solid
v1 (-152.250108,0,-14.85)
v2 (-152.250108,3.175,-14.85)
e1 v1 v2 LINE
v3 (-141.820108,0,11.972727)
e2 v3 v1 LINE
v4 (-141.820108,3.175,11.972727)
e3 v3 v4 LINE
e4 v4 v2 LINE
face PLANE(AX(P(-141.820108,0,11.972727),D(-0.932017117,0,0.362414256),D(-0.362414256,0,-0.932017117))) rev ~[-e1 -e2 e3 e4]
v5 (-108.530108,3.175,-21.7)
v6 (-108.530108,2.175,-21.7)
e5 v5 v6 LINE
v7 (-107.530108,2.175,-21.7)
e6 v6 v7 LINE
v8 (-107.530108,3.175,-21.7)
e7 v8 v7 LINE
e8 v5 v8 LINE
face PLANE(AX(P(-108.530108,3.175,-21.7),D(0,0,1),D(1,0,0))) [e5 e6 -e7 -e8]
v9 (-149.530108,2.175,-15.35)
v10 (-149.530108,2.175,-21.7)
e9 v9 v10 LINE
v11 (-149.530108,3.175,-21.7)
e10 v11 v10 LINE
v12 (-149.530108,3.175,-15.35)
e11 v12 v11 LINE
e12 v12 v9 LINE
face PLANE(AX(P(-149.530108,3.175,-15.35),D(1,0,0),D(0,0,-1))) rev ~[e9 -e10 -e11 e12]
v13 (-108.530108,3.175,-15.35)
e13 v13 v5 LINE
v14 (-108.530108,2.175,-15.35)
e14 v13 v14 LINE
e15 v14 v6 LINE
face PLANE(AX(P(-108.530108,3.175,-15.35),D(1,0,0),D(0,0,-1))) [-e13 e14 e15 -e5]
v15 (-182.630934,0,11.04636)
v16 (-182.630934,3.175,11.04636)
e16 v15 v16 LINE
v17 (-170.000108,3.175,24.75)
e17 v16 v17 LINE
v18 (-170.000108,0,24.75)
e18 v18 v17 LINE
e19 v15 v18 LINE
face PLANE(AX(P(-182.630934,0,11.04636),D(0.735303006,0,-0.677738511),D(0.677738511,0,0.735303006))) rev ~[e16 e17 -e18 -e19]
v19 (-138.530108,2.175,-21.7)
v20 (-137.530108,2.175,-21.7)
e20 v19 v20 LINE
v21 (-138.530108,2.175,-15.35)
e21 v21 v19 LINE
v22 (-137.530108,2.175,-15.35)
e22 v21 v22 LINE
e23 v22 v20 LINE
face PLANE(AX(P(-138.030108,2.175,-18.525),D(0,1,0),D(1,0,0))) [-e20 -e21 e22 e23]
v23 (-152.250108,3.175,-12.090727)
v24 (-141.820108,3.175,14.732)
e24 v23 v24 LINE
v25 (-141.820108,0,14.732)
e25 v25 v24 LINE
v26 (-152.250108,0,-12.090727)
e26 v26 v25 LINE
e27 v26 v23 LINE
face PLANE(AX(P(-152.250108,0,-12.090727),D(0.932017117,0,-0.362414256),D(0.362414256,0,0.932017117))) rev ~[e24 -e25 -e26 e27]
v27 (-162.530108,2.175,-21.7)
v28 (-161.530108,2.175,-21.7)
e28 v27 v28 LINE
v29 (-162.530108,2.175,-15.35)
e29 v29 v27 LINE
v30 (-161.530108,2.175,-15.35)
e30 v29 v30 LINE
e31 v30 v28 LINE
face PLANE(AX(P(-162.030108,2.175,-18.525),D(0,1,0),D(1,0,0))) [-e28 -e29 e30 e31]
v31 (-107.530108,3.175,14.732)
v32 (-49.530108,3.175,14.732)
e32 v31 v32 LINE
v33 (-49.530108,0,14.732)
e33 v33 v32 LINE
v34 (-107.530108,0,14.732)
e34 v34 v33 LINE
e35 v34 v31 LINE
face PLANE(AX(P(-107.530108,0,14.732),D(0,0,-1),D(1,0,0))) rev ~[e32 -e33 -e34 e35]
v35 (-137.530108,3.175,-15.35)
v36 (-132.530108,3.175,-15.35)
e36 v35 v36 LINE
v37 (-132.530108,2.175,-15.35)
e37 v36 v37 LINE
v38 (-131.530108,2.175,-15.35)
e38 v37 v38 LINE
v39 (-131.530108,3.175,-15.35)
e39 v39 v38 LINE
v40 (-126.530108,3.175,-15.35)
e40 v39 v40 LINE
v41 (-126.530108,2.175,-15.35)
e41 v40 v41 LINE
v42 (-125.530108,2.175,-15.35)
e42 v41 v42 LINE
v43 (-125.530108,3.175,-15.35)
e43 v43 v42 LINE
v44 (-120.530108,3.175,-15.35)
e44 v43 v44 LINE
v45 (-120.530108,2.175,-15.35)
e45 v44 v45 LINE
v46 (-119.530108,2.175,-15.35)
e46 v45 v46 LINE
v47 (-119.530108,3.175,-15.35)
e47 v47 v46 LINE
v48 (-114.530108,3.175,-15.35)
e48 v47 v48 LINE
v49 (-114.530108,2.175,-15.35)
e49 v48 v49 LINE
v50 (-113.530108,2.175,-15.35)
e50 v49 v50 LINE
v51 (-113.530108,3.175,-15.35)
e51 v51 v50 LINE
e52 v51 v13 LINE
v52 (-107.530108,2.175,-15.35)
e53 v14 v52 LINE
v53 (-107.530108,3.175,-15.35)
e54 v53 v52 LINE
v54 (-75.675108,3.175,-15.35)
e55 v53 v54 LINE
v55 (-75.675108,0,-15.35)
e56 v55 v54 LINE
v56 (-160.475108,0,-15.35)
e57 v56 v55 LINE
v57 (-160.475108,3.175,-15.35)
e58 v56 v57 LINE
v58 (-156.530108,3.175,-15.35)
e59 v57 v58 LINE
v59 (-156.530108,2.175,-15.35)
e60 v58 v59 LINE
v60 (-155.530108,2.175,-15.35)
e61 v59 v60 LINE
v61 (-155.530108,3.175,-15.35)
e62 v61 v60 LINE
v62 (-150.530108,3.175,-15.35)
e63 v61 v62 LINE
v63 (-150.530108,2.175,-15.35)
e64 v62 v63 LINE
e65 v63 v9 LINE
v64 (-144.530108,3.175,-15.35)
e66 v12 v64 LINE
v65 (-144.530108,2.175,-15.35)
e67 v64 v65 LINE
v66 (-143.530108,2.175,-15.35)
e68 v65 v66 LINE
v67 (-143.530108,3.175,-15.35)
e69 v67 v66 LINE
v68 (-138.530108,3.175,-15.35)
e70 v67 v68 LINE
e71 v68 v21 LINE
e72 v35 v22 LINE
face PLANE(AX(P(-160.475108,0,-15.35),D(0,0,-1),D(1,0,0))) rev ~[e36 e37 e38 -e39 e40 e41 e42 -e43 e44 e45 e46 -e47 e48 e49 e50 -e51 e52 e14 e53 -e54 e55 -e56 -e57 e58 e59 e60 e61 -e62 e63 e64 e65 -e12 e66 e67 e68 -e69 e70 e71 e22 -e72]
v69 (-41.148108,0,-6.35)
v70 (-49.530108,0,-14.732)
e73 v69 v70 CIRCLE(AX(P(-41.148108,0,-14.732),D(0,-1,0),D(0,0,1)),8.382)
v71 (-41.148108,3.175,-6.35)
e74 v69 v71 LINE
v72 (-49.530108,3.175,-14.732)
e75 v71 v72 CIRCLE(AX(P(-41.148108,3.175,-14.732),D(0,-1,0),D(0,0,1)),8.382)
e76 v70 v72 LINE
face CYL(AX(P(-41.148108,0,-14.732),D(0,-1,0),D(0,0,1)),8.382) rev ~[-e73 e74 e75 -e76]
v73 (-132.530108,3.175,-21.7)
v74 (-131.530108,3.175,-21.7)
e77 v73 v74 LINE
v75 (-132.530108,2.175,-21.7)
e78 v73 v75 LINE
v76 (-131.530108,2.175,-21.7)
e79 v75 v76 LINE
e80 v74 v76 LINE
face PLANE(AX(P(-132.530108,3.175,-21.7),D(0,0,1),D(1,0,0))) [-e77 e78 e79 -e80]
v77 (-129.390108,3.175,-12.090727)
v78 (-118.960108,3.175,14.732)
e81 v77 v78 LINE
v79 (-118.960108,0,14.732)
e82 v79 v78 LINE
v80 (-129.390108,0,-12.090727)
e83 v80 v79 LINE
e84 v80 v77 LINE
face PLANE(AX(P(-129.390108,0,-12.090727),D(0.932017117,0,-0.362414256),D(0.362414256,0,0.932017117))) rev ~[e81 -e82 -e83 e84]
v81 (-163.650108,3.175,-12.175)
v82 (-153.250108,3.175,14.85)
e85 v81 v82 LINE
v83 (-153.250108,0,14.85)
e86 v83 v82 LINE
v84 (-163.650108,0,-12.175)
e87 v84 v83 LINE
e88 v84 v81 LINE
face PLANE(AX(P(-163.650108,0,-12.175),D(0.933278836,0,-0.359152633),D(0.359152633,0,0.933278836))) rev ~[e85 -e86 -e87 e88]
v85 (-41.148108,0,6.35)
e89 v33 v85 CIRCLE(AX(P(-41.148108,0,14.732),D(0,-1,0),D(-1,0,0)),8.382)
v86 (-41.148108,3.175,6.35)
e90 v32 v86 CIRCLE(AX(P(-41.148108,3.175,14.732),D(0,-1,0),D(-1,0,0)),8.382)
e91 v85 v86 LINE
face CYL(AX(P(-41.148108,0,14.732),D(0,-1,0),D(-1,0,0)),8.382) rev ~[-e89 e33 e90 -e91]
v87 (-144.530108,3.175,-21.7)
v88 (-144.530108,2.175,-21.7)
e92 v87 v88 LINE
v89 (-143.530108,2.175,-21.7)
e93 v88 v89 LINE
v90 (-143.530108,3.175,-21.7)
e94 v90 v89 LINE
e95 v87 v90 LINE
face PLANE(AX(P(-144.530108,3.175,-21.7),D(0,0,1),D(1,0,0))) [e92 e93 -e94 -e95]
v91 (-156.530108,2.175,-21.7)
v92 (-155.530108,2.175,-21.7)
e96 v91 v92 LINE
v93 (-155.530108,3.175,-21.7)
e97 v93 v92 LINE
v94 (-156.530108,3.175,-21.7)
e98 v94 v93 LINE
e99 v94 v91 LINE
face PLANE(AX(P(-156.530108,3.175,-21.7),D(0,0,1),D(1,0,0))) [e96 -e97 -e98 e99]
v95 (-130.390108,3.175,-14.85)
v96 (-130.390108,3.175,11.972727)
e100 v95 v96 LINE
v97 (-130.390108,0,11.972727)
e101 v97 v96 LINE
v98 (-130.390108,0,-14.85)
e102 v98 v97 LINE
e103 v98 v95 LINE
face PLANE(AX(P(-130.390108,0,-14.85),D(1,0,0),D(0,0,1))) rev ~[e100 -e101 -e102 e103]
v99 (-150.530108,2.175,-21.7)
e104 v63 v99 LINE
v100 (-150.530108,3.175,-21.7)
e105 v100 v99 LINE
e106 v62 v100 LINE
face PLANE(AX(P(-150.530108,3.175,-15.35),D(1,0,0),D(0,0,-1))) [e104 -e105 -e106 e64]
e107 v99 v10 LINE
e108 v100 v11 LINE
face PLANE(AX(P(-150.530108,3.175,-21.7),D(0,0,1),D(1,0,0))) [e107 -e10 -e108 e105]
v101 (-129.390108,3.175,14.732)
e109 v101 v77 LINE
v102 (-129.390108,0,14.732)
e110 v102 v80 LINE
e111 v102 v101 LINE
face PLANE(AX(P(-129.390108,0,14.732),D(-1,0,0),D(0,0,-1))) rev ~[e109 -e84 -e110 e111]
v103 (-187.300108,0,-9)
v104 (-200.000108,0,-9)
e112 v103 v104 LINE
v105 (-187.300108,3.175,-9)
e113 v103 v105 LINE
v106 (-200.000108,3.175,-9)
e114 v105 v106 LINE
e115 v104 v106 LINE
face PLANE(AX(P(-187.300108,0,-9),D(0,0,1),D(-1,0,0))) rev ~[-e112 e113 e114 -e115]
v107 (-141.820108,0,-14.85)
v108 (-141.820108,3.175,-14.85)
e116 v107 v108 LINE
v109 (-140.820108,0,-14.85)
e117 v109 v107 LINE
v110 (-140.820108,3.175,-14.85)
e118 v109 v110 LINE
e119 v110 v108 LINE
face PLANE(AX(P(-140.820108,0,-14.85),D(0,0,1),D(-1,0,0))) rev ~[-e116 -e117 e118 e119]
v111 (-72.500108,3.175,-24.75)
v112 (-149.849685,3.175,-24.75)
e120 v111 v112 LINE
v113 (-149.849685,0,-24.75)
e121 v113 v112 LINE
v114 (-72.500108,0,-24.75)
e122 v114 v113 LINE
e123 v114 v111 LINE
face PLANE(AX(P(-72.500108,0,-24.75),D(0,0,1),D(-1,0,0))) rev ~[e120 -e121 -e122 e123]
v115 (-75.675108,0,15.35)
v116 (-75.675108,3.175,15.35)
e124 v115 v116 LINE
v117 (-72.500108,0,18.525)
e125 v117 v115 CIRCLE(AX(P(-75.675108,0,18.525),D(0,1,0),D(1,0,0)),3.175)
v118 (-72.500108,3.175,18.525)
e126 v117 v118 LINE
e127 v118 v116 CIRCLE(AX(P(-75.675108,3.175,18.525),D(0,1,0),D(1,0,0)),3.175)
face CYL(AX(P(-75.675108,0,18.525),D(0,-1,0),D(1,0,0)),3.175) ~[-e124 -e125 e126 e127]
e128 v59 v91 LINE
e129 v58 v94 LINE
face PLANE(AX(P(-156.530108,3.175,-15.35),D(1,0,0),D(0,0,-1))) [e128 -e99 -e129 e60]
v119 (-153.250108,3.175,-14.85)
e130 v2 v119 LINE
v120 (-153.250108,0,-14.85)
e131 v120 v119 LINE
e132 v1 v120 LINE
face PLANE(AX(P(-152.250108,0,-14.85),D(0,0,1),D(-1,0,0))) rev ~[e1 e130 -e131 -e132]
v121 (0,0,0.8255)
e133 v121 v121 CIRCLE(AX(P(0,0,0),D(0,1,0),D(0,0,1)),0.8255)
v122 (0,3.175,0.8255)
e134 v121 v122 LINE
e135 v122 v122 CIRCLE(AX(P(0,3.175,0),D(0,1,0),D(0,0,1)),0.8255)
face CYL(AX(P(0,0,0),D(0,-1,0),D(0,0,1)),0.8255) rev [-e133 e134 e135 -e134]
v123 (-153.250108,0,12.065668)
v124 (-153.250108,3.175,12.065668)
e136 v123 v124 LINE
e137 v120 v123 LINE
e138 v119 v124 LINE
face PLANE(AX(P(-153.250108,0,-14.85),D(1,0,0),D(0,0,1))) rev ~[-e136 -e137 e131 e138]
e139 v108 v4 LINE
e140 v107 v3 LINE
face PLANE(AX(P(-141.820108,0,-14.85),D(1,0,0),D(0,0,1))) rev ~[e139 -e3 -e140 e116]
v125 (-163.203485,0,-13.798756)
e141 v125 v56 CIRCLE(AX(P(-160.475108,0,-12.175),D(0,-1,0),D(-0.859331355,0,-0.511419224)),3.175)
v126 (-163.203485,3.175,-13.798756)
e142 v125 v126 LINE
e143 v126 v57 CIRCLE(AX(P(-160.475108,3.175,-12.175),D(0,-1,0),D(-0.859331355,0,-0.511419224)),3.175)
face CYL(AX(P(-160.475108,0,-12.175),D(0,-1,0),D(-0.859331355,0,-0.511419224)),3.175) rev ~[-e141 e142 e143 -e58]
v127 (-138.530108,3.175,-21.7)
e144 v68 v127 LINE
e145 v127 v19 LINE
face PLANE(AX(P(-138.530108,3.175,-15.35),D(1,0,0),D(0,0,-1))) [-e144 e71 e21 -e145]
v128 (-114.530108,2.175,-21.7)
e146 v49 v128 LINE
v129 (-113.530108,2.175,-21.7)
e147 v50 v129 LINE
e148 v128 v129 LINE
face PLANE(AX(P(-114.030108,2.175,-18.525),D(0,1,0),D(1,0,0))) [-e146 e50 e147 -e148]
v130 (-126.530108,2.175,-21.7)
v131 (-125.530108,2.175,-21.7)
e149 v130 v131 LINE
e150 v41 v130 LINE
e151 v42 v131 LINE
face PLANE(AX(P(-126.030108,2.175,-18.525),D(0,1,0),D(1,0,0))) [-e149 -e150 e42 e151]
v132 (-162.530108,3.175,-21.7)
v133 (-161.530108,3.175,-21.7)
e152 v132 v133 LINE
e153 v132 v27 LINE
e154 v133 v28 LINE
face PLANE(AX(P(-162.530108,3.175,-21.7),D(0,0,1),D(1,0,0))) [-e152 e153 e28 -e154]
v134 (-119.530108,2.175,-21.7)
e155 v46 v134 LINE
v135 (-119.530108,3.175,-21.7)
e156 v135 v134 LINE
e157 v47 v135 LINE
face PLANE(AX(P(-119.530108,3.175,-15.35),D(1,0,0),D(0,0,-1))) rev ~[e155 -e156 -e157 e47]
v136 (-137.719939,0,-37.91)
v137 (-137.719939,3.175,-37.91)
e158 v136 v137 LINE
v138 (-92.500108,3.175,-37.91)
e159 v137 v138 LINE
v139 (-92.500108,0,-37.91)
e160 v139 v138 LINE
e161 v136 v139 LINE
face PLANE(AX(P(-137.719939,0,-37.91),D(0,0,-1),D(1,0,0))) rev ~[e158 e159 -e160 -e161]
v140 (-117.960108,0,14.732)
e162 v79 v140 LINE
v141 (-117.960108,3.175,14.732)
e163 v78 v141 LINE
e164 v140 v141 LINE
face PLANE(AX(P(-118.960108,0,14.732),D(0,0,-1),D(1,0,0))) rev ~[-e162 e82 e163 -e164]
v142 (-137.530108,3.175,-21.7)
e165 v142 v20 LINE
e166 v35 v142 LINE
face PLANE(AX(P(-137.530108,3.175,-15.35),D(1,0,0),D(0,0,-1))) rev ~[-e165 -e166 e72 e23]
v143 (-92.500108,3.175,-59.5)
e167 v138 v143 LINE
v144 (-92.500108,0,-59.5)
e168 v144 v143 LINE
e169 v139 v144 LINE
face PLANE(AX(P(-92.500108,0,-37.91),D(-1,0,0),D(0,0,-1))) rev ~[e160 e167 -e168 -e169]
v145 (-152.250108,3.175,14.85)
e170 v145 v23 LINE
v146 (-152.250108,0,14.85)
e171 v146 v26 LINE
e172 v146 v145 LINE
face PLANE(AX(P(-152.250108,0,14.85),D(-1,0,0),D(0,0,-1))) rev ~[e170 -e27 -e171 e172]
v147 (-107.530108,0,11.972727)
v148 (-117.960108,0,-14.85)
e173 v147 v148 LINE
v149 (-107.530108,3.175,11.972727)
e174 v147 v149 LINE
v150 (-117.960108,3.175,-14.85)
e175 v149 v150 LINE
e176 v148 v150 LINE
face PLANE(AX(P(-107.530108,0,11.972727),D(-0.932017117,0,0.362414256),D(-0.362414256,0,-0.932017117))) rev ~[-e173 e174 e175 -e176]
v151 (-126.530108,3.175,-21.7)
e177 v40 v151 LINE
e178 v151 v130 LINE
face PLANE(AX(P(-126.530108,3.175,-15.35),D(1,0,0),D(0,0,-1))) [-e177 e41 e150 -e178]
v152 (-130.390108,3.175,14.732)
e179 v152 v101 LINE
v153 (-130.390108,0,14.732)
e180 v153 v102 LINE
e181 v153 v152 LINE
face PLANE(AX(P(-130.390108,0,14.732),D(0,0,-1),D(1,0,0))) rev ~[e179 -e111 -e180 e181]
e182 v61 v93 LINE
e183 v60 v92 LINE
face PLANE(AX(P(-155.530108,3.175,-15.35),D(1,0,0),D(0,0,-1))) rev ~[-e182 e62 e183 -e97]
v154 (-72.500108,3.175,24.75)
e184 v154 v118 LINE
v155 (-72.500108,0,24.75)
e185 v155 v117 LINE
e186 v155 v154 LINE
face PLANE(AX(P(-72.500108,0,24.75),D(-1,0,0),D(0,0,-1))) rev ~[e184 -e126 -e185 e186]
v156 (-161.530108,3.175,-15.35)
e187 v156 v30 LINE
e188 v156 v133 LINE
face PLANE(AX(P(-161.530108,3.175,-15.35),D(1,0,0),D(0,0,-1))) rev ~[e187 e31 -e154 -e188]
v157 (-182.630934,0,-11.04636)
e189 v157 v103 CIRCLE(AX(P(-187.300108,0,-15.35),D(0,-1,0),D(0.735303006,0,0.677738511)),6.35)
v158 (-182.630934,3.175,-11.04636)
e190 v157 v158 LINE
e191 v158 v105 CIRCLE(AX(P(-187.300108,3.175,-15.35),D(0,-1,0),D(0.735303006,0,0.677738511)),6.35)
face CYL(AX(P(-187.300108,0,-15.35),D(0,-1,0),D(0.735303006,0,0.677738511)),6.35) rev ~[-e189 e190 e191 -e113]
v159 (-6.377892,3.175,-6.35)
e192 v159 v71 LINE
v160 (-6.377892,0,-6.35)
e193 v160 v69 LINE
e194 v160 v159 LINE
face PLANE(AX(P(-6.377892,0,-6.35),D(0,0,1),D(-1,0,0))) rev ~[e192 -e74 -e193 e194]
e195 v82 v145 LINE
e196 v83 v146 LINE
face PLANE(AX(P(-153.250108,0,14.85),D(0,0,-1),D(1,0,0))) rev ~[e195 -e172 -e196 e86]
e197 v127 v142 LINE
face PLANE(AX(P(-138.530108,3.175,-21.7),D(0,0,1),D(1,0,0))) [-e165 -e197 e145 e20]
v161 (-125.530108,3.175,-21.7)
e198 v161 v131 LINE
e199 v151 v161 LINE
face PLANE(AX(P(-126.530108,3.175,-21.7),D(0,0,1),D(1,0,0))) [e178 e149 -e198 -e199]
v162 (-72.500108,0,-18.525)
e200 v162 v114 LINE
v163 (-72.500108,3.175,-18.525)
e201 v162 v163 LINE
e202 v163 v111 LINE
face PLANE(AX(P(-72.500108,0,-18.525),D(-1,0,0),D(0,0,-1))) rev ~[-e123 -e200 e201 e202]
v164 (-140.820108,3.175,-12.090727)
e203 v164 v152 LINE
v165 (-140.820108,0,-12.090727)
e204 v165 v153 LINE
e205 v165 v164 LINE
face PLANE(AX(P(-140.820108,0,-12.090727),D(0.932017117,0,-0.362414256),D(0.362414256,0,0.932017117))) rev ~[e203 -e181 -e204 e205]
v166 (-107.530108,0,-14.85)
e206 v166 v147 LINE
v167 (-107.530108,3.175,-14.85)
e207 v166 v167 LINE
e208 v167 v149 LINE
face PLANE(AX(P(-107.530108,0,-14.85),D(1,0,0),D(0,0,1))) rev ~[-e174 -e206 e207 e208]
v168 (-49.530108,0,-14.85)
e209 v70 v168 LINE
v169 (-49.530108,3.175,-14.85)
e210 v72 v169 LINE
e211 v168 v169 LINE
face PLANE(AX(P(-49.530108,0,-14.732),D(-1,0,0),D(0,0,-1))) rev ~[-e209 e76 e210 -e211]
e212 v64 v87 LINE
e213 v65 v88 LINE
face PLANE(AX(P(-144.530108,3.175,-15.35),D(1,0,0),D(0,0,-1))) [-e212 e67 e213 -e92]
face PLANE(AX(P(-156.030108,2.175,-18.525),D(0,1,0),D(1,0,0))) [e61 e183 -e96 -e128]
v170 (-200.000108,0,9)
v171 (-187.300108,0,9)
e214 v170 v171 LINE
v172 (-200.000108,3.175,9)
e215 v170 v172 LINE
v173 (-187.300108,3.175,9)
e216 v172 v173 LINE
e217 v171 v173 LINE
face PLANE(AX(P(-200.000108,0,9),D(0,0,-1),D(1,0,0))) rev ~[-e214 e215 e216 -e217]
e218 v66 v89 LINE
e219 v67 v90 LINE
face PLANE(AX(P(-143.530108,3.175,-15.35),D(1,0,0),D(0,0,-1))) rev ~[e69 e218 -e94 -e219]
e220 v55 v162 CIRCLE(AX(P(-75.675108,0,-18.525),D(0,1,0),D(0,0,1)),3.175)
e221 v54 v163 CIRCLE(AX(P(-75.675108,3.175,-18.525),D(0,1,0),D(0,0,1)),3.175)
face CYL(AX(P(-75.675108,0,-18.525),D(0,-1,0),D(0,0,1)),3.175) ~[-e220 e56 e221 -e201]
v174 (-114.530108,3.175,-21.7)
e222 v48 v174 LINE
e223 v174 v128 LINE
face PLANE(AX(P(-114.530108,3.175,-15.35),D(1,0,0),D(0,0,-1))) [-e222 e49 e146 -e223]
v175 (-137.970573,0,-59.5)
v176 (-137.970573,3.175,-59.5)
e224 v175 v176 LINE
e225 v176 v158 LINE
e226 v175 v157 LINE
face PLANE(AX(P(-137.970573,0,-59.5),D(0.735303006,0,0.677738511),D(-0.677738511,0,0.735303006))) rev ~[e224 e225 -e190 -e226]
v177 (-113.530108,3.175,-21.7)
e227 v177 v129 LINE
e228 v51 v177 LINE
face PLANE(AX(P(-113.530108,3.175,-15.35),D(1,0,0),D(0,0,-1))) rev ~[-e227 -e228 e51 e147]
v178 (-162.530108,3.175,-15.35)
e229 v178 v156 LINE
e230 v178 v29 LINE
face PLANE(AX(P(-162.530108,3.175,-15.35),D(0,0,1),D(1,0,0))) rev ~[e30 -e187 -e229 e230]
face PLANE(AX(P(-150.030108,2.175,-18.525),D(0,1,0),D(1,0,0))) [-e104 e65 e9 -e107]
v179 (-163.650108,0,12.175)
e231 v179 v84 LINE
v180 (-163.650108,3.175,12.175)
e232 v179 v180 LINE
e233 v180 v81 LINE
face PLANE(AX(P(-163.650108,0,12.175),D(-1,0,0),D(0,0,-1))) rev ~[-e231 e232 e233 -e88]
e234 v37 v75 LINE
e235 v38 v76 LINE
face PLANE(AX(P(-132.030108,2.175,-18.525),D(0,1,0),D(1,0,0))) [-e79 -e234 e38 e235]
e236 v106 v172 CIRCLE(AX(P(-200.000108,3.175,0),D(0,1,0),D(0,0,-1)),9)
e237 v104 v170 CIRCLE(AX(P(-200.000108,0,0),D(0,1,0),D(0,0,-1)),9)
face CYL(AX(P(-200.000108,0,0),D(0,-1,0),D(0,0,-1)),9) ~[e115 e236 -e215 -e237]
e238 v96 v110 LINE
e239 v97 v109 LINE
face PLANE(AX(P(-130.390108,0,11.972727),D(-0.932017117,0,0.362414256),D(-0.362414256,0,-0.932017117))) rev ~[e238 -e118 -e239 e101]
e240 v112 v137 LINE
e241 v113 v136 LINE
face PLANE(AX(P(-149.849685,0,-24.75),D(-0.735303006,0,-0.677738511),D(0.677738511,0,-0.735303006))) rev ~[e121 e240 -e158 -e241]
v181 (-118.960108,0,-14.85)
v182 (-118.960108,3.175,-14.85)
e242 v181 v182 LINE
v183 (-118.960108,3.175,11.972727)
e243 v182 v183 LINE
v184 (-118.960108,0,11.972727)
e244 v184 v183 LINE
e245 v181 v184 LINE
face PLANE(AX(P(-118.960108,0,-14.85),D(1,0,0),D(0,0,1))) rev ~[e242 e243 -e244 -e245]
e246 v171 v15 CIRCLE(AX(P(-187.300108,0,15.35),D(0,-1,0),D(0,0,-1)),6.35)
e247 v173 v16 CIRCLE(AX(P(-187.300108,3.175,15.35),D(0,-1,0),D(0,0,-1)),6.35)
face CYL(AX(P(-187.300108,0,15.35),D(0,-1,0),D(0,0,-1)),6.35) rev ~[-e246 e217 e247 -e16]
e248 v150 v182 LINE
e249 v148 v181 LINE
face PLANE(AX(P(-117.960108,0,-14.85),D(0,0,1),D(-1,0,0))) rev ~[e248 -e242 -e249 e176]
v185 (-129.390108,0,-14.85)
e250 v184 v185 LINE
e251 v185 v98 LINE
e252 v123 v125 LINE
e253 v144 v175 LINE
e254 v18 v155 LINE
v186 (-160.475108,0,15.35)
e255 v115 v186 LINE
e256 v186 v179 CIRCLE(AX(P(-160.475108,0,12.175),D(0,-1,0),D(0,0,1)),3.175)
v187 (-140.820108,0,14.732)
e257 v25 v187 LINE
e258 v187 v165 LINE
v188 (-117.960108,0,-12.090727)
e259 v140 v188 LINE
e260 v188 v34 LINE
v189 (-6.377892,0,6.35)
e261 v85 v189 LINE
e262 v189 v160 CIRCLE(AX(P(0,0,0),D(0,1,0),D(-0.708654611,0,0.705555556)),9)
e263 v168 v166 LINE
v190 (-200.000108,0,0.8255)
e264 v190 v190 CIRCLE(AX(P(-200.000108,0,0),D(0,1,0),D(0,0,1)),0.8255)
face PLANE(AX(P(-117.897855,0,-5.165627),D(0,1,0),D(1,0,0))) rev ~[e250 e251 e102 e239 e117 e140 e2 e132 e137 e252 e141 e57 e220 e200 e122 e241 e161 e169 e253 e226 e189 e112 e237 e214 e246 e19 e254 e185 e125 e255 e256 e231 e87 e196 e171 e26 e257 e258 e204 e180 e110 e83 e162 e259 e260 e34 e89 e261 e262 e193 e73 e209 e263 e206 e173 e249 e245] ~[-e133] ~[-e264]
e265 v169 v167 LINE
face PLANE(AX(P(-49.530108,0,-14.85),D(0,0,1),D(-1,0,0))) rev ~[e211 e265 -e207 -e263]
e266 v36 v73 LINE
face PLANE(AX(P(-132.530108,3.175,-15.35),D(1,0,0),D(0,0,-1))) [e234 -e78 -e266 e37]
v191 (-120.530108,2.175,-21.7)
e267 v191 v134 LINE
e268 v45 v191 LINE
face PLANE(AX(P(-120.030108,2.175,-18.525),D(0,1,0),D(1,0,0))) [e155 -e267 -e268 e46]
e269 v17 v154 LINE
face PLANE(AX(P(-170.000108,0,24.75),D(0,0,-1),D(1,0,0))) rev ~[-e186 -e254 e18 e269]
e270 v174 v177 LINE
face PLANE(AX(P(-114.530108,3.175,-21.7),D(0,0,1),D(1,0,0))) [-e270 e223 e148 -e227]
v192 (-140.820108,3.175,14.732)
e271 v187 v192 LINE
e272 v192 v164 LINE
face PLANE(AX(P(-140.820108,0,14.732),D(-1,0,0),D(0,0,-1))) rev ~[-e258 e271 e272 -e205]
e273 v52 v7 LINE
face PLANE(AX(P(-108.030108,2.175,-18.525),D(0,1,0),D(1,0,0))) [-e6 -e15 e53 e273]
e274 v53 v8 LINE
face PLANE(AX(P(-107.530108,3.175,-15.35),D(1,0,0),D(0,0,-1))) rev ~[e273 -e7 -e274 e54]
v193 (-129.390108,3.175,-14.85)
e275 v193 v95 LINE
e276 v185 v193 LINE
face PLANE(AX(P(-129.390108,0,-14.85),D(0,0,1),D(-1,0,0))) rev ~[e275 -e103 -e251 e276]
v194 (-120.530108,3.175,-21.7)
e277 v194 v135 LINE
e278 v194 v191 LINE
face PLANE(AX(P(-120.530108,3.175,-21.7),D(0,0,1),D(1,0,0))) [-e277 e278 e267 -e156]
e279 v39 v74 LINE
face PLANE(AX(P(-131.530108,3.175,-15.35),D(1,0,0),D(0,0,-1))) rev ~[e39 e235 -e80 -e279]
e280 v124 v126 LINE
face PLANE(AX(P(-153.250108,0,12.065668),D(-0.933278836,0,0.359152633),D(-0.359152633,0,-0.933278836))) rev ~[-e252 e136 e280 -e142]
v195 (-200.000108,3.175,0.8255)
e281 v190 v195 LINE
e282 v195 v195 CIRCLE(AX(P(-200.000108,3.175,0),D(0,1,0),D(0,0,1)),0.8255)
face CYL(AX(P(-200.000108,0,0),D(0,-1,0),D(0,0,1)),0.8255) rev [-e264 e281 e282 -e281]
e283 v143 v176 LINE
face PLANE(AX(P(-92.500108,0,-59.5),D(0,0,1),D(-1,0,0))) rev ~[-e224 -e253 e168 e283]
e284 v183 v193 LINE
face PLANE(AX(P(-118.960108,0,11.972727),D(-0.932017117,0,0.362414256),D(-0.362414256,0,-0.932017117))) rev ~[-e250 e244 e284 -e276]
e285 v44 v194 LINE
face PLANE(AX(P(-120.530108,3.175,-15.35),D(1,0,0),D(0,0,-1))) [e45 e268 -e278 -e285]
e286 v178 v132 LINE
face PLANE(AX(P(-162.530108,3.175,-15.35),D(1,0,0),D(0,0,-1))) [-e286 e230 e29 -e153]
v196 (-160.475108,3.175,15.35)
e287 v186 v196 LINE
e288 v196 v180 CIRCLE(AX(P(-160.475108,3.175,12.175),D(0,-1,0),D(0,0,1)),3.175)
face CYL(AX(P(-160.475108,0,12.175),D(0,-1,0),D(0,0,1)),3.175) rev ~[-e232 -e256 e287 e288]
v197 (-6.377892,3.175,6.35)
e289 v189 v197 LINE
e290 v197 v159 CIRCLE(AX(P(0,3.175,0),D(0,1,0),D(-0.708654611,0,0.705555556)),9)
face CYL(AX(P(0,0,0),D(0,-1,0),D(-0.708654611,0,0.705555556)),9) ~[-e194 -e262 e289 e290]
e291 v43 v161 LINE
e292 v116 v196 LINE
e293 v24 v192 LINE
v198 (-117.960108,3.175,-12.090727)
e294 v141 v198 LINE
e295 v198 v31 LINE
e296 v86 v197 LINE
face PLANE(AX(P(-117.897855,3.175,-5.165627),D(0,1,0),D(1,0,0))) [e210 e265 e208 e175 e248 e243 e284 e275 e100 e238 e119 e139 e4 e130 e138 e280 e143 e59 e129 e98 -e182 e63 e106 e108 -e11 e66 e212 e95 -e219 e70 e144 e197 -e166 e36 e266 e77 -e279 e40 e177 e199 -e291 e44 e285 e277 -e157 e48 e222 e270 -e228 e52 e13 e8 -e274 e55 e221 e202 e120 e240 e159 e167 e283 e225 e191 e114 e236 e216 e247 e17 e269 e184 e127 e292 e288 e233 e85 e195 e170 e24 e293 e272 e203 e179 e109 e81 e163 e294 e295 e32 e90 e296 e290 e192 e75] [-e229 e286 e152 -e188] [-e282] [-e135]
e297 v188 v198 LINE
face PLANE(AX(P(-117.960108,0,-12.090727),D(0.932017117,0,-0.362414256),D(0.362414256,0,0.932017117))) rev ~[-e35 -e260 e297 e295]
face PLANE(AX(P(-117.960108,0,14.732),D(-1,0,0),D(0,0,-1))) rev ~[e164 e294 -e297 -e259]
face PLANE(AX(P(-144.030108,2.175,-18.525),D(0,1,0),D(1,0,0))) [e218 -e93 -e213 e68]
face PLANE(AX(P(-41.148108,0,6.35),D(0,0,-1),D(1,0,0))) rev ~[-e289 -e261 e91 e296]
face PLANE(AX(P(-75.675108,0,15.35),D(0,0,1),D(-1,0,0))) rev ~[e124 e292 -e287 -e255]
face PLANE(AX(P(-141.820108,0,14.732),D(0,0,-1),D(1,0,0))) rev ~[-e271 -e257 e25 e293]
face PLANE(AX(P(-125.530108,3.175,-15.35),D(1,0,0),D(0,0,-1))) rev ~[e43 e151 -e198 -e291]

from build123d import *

# Parameters (mm, degrees)
SKETCH3_R           = 0.8255
BOSS_EXTRUDE1_DEPTH = 3.175
SKETCH4_W           = 1
SKETCH4_H           = 6.35
CUT_EXTRUDE1_DEPTH  = 1


with BuildPart() as part:
    # Sketch3 → Boss-Extrude1 (new body)
    with BuildSketch(Plane(origin=(0, 0, 0), x_dir=(1, 0, 0), z_dir=(0, 1, 0))):
        with BuildLine():
            Line((-187.300108, 9), (-200.000108, 9))
            ThreePointArc((-200.000108, 9), (-209.000108, 0), (-200.000108, -9))
            Line((-200.000108, -9), (-187.300108, -9))
            ThreePointArc((-187.300108, -9), (-184.751148517, -9.534047322), (-182.630933912, -11.046360455))
            Line((-182.630933912, -11.046360455), (-170.000108, -24.75))
            Line((-170.000108, -24.75), (-72.500108, -24.75))
            Line((-72.500108, -24.75), (-72.500108, -18.525))
            ThreePointArc((-72.500108, -18.525), (-73.43004397, -16.27993597), (-75.675108, -15.35))
            Line((-75.675108, -15.35), (-160.475108, -15.35))
            ThreePointArc((-160.475108, -15.35), (-162.72017203, -14.42006403), (-163.650108, -12.175))
            Line((-163.650108, -12.175), (-163.650108, 12.175))
            Line((-163.650108, 12.175), (-153.250108, -14.85))
            Line((-153.250108, -14.85), (-152.250108, -14.85))
            Line((-152.250108, -14.85), (-152.250108, 12.090726648))
            Line((-152.250108, 12.090726648), (-141.820108, -14.732))
            Line((-141.820108, -14.732), (-140.820108, -14.732))
            Line((-140.820108, -14.732), (-140.820108, 12.090726648))
            Line((-140.820108, 12.090726648), (-130.390108, -14.732))
            Line((-130.390108, -14.732), (-129.390108, -14.732))
            Line((-129.390108, -14.732), (-129.390108, 12.090726648))
            Line((-129.390108, 12.090726648), (-118.960108, -14.732))
            Line((-118.960108, -14.732), (-117.960108, -14.732))
            Line((-117.960108, -14.732), (-117.960108, 12.090726648))
            Line((-117.960108, 12.090726648), (-107.530108, -14.732))
            Line((-107.530108, -14.732), (-49.530108, -14.732))
            ThreePointArc((-49.530108, -14.732), (-47.07507704, -8.80503096), (-41.148108, -6.35))
            Line((-41.148108, -6.35), (-6.377891501, -6.35))
            ThreePointArc((-6.377891501, -6.35), (9, 0), (-6.377891501, 6.35))
            Line((-6.377891501, 6.35), (-41.148108, 6.35))
            ThreePointArc((-41.148108, 6.35), (-47.07507704, 8.80503096), (-49.530108, 14.732))
            Line((-49.530108, 14.732), (-49.530108, 14.85))
            Line((-49.530108, 14.85), (-107.530108, 14.85))
            Line((-107.530108, 14.85), (-107.530108, -11.972726648))
            Line((-107.530108, -11.972726648), (-117.960108, 14.85))
            Line((-117.960108, 14.85), (-118.960108, 14.85))
            Line((-118.960108, 14.85), (-118.960108, -11.972726648))
            Line((-118.960108, -11.972726648), (-129.390108, 14.85))
            Line((-129.390108, 14.85), (-130.390108, 14.85))
            Line((-130.390108, 14.85), (-130.390108, -11.972726648))
            Line((-130.390108, -11.972726648), (-140.820108, 14.85))
            Line((-140.820108, 14.85), (-141.820108, 14.85))
            Line((-141.820108, 14.85), (-141.820108, -11.972726648))
            Line((-141.820108, -11.972726648), (-152.250108, 14.85))
            Line((-152.250108, 14.85), (-153.250108, 14.85))
            Line((-153.250108, 14.85), (-153.250108, -12.065668468))
            Line((-153.250108, -12.065668468), (-163.203485052, 13.798756035))
            ThreePointArc((-163.203485052, 13.798756035), (-162.044375279, 14.935077029), (-160.475108, 15.35))
            Line((-160.475108, 15.35), (-75.675108, 15.35))
            ThreePointArc((-75.675108, 15.35), (-73.43004397, 16.27993597), (-72.500108, 18.525))
            Line((-72.500108, 18.525), (-72.500108, 24.75))
            Line((-72.500108, 24.75), (-149.849684915, 24.75))
            Line((-149.849684915, 24.75), (-137.719938766, 37.91))
            Line((-137.719938766, 37.91), (-92.500108, 37.91))
            Line((-92.500108, 37.91), (-92.500108, 59.5))
            Line((-92.500108, 59.5), (-137.970573146, 59.5))
            Line((-137.970573146, 59.5), (-182.630933912, 11.046360455))
            ThreePointArc((-182.630933912, 11.046360455), (-184.751148517, 9.534047322), (-187.300108, 9))
        make_face()
        with Locations(Location((0, 0, 0), (0, 0, 270))):
            Circle(SKETCH3_R, mode=Mode.SUBTRACT)
        with Locations(Location((-200.000108, 0, 0), (0, 0, 270))):
            Circle(SKETCH3_R, mode=Mode.SUBTRACT)
    extrude(amount=BOSS_EXTRUDE1_DEPTH)

    # Sketch4 → Cut-Extrude1 (cut)
    with BuildSketch(Plane(origin=(0, 3.175, 0), x_dir=(1, 0, 0), z_dir=(0, 1, 0))):
        with Locations((-108.030108, 18.525)):
            Rectangle(SKETCH4_W, SKETCH4_H)
        with Locations((-114.030108, 18.525)):
            Rectangle(SKETCH4_W, SKETCH4_H)
        with Locations((-120.030108, 18.525)):
            Rectangle(SKETCH4_W, SKETCH4_H)
        with Locations((-126.030108, 18.525)):
            Rectangle(SKETCH4_W, SKETCH4_H)
        with Locations((-132.030108, 18.525)):
            Rectangle(SKETCH4_W, SKETCH4_H)
        with Locations((-138.030108, 18.525)):
            Rectangle(SKETCH4_W, SKETCH4_H)
        with Locations((-144.030108, 18.525)):
            Rectangle(SKETCH4_W, SKETCH4_H)
        with Locations((-150.030108, 18.525)):
            Rectangle(SKETCH4_W, SKETCH4_H)
        with Locations((-156.030108, 18.525)):
            Rectangle(SKETCH4_W, SKETCH4_H)
        with Locations((-162.030108, 18.525)):
            Rectangle(SKETCH4_W, SKETCH4_H)
    extrude(amount=-CUT_EXTRUDE1_DEPTH, mode=Mode.SUBTRACT)


solid = part.part
